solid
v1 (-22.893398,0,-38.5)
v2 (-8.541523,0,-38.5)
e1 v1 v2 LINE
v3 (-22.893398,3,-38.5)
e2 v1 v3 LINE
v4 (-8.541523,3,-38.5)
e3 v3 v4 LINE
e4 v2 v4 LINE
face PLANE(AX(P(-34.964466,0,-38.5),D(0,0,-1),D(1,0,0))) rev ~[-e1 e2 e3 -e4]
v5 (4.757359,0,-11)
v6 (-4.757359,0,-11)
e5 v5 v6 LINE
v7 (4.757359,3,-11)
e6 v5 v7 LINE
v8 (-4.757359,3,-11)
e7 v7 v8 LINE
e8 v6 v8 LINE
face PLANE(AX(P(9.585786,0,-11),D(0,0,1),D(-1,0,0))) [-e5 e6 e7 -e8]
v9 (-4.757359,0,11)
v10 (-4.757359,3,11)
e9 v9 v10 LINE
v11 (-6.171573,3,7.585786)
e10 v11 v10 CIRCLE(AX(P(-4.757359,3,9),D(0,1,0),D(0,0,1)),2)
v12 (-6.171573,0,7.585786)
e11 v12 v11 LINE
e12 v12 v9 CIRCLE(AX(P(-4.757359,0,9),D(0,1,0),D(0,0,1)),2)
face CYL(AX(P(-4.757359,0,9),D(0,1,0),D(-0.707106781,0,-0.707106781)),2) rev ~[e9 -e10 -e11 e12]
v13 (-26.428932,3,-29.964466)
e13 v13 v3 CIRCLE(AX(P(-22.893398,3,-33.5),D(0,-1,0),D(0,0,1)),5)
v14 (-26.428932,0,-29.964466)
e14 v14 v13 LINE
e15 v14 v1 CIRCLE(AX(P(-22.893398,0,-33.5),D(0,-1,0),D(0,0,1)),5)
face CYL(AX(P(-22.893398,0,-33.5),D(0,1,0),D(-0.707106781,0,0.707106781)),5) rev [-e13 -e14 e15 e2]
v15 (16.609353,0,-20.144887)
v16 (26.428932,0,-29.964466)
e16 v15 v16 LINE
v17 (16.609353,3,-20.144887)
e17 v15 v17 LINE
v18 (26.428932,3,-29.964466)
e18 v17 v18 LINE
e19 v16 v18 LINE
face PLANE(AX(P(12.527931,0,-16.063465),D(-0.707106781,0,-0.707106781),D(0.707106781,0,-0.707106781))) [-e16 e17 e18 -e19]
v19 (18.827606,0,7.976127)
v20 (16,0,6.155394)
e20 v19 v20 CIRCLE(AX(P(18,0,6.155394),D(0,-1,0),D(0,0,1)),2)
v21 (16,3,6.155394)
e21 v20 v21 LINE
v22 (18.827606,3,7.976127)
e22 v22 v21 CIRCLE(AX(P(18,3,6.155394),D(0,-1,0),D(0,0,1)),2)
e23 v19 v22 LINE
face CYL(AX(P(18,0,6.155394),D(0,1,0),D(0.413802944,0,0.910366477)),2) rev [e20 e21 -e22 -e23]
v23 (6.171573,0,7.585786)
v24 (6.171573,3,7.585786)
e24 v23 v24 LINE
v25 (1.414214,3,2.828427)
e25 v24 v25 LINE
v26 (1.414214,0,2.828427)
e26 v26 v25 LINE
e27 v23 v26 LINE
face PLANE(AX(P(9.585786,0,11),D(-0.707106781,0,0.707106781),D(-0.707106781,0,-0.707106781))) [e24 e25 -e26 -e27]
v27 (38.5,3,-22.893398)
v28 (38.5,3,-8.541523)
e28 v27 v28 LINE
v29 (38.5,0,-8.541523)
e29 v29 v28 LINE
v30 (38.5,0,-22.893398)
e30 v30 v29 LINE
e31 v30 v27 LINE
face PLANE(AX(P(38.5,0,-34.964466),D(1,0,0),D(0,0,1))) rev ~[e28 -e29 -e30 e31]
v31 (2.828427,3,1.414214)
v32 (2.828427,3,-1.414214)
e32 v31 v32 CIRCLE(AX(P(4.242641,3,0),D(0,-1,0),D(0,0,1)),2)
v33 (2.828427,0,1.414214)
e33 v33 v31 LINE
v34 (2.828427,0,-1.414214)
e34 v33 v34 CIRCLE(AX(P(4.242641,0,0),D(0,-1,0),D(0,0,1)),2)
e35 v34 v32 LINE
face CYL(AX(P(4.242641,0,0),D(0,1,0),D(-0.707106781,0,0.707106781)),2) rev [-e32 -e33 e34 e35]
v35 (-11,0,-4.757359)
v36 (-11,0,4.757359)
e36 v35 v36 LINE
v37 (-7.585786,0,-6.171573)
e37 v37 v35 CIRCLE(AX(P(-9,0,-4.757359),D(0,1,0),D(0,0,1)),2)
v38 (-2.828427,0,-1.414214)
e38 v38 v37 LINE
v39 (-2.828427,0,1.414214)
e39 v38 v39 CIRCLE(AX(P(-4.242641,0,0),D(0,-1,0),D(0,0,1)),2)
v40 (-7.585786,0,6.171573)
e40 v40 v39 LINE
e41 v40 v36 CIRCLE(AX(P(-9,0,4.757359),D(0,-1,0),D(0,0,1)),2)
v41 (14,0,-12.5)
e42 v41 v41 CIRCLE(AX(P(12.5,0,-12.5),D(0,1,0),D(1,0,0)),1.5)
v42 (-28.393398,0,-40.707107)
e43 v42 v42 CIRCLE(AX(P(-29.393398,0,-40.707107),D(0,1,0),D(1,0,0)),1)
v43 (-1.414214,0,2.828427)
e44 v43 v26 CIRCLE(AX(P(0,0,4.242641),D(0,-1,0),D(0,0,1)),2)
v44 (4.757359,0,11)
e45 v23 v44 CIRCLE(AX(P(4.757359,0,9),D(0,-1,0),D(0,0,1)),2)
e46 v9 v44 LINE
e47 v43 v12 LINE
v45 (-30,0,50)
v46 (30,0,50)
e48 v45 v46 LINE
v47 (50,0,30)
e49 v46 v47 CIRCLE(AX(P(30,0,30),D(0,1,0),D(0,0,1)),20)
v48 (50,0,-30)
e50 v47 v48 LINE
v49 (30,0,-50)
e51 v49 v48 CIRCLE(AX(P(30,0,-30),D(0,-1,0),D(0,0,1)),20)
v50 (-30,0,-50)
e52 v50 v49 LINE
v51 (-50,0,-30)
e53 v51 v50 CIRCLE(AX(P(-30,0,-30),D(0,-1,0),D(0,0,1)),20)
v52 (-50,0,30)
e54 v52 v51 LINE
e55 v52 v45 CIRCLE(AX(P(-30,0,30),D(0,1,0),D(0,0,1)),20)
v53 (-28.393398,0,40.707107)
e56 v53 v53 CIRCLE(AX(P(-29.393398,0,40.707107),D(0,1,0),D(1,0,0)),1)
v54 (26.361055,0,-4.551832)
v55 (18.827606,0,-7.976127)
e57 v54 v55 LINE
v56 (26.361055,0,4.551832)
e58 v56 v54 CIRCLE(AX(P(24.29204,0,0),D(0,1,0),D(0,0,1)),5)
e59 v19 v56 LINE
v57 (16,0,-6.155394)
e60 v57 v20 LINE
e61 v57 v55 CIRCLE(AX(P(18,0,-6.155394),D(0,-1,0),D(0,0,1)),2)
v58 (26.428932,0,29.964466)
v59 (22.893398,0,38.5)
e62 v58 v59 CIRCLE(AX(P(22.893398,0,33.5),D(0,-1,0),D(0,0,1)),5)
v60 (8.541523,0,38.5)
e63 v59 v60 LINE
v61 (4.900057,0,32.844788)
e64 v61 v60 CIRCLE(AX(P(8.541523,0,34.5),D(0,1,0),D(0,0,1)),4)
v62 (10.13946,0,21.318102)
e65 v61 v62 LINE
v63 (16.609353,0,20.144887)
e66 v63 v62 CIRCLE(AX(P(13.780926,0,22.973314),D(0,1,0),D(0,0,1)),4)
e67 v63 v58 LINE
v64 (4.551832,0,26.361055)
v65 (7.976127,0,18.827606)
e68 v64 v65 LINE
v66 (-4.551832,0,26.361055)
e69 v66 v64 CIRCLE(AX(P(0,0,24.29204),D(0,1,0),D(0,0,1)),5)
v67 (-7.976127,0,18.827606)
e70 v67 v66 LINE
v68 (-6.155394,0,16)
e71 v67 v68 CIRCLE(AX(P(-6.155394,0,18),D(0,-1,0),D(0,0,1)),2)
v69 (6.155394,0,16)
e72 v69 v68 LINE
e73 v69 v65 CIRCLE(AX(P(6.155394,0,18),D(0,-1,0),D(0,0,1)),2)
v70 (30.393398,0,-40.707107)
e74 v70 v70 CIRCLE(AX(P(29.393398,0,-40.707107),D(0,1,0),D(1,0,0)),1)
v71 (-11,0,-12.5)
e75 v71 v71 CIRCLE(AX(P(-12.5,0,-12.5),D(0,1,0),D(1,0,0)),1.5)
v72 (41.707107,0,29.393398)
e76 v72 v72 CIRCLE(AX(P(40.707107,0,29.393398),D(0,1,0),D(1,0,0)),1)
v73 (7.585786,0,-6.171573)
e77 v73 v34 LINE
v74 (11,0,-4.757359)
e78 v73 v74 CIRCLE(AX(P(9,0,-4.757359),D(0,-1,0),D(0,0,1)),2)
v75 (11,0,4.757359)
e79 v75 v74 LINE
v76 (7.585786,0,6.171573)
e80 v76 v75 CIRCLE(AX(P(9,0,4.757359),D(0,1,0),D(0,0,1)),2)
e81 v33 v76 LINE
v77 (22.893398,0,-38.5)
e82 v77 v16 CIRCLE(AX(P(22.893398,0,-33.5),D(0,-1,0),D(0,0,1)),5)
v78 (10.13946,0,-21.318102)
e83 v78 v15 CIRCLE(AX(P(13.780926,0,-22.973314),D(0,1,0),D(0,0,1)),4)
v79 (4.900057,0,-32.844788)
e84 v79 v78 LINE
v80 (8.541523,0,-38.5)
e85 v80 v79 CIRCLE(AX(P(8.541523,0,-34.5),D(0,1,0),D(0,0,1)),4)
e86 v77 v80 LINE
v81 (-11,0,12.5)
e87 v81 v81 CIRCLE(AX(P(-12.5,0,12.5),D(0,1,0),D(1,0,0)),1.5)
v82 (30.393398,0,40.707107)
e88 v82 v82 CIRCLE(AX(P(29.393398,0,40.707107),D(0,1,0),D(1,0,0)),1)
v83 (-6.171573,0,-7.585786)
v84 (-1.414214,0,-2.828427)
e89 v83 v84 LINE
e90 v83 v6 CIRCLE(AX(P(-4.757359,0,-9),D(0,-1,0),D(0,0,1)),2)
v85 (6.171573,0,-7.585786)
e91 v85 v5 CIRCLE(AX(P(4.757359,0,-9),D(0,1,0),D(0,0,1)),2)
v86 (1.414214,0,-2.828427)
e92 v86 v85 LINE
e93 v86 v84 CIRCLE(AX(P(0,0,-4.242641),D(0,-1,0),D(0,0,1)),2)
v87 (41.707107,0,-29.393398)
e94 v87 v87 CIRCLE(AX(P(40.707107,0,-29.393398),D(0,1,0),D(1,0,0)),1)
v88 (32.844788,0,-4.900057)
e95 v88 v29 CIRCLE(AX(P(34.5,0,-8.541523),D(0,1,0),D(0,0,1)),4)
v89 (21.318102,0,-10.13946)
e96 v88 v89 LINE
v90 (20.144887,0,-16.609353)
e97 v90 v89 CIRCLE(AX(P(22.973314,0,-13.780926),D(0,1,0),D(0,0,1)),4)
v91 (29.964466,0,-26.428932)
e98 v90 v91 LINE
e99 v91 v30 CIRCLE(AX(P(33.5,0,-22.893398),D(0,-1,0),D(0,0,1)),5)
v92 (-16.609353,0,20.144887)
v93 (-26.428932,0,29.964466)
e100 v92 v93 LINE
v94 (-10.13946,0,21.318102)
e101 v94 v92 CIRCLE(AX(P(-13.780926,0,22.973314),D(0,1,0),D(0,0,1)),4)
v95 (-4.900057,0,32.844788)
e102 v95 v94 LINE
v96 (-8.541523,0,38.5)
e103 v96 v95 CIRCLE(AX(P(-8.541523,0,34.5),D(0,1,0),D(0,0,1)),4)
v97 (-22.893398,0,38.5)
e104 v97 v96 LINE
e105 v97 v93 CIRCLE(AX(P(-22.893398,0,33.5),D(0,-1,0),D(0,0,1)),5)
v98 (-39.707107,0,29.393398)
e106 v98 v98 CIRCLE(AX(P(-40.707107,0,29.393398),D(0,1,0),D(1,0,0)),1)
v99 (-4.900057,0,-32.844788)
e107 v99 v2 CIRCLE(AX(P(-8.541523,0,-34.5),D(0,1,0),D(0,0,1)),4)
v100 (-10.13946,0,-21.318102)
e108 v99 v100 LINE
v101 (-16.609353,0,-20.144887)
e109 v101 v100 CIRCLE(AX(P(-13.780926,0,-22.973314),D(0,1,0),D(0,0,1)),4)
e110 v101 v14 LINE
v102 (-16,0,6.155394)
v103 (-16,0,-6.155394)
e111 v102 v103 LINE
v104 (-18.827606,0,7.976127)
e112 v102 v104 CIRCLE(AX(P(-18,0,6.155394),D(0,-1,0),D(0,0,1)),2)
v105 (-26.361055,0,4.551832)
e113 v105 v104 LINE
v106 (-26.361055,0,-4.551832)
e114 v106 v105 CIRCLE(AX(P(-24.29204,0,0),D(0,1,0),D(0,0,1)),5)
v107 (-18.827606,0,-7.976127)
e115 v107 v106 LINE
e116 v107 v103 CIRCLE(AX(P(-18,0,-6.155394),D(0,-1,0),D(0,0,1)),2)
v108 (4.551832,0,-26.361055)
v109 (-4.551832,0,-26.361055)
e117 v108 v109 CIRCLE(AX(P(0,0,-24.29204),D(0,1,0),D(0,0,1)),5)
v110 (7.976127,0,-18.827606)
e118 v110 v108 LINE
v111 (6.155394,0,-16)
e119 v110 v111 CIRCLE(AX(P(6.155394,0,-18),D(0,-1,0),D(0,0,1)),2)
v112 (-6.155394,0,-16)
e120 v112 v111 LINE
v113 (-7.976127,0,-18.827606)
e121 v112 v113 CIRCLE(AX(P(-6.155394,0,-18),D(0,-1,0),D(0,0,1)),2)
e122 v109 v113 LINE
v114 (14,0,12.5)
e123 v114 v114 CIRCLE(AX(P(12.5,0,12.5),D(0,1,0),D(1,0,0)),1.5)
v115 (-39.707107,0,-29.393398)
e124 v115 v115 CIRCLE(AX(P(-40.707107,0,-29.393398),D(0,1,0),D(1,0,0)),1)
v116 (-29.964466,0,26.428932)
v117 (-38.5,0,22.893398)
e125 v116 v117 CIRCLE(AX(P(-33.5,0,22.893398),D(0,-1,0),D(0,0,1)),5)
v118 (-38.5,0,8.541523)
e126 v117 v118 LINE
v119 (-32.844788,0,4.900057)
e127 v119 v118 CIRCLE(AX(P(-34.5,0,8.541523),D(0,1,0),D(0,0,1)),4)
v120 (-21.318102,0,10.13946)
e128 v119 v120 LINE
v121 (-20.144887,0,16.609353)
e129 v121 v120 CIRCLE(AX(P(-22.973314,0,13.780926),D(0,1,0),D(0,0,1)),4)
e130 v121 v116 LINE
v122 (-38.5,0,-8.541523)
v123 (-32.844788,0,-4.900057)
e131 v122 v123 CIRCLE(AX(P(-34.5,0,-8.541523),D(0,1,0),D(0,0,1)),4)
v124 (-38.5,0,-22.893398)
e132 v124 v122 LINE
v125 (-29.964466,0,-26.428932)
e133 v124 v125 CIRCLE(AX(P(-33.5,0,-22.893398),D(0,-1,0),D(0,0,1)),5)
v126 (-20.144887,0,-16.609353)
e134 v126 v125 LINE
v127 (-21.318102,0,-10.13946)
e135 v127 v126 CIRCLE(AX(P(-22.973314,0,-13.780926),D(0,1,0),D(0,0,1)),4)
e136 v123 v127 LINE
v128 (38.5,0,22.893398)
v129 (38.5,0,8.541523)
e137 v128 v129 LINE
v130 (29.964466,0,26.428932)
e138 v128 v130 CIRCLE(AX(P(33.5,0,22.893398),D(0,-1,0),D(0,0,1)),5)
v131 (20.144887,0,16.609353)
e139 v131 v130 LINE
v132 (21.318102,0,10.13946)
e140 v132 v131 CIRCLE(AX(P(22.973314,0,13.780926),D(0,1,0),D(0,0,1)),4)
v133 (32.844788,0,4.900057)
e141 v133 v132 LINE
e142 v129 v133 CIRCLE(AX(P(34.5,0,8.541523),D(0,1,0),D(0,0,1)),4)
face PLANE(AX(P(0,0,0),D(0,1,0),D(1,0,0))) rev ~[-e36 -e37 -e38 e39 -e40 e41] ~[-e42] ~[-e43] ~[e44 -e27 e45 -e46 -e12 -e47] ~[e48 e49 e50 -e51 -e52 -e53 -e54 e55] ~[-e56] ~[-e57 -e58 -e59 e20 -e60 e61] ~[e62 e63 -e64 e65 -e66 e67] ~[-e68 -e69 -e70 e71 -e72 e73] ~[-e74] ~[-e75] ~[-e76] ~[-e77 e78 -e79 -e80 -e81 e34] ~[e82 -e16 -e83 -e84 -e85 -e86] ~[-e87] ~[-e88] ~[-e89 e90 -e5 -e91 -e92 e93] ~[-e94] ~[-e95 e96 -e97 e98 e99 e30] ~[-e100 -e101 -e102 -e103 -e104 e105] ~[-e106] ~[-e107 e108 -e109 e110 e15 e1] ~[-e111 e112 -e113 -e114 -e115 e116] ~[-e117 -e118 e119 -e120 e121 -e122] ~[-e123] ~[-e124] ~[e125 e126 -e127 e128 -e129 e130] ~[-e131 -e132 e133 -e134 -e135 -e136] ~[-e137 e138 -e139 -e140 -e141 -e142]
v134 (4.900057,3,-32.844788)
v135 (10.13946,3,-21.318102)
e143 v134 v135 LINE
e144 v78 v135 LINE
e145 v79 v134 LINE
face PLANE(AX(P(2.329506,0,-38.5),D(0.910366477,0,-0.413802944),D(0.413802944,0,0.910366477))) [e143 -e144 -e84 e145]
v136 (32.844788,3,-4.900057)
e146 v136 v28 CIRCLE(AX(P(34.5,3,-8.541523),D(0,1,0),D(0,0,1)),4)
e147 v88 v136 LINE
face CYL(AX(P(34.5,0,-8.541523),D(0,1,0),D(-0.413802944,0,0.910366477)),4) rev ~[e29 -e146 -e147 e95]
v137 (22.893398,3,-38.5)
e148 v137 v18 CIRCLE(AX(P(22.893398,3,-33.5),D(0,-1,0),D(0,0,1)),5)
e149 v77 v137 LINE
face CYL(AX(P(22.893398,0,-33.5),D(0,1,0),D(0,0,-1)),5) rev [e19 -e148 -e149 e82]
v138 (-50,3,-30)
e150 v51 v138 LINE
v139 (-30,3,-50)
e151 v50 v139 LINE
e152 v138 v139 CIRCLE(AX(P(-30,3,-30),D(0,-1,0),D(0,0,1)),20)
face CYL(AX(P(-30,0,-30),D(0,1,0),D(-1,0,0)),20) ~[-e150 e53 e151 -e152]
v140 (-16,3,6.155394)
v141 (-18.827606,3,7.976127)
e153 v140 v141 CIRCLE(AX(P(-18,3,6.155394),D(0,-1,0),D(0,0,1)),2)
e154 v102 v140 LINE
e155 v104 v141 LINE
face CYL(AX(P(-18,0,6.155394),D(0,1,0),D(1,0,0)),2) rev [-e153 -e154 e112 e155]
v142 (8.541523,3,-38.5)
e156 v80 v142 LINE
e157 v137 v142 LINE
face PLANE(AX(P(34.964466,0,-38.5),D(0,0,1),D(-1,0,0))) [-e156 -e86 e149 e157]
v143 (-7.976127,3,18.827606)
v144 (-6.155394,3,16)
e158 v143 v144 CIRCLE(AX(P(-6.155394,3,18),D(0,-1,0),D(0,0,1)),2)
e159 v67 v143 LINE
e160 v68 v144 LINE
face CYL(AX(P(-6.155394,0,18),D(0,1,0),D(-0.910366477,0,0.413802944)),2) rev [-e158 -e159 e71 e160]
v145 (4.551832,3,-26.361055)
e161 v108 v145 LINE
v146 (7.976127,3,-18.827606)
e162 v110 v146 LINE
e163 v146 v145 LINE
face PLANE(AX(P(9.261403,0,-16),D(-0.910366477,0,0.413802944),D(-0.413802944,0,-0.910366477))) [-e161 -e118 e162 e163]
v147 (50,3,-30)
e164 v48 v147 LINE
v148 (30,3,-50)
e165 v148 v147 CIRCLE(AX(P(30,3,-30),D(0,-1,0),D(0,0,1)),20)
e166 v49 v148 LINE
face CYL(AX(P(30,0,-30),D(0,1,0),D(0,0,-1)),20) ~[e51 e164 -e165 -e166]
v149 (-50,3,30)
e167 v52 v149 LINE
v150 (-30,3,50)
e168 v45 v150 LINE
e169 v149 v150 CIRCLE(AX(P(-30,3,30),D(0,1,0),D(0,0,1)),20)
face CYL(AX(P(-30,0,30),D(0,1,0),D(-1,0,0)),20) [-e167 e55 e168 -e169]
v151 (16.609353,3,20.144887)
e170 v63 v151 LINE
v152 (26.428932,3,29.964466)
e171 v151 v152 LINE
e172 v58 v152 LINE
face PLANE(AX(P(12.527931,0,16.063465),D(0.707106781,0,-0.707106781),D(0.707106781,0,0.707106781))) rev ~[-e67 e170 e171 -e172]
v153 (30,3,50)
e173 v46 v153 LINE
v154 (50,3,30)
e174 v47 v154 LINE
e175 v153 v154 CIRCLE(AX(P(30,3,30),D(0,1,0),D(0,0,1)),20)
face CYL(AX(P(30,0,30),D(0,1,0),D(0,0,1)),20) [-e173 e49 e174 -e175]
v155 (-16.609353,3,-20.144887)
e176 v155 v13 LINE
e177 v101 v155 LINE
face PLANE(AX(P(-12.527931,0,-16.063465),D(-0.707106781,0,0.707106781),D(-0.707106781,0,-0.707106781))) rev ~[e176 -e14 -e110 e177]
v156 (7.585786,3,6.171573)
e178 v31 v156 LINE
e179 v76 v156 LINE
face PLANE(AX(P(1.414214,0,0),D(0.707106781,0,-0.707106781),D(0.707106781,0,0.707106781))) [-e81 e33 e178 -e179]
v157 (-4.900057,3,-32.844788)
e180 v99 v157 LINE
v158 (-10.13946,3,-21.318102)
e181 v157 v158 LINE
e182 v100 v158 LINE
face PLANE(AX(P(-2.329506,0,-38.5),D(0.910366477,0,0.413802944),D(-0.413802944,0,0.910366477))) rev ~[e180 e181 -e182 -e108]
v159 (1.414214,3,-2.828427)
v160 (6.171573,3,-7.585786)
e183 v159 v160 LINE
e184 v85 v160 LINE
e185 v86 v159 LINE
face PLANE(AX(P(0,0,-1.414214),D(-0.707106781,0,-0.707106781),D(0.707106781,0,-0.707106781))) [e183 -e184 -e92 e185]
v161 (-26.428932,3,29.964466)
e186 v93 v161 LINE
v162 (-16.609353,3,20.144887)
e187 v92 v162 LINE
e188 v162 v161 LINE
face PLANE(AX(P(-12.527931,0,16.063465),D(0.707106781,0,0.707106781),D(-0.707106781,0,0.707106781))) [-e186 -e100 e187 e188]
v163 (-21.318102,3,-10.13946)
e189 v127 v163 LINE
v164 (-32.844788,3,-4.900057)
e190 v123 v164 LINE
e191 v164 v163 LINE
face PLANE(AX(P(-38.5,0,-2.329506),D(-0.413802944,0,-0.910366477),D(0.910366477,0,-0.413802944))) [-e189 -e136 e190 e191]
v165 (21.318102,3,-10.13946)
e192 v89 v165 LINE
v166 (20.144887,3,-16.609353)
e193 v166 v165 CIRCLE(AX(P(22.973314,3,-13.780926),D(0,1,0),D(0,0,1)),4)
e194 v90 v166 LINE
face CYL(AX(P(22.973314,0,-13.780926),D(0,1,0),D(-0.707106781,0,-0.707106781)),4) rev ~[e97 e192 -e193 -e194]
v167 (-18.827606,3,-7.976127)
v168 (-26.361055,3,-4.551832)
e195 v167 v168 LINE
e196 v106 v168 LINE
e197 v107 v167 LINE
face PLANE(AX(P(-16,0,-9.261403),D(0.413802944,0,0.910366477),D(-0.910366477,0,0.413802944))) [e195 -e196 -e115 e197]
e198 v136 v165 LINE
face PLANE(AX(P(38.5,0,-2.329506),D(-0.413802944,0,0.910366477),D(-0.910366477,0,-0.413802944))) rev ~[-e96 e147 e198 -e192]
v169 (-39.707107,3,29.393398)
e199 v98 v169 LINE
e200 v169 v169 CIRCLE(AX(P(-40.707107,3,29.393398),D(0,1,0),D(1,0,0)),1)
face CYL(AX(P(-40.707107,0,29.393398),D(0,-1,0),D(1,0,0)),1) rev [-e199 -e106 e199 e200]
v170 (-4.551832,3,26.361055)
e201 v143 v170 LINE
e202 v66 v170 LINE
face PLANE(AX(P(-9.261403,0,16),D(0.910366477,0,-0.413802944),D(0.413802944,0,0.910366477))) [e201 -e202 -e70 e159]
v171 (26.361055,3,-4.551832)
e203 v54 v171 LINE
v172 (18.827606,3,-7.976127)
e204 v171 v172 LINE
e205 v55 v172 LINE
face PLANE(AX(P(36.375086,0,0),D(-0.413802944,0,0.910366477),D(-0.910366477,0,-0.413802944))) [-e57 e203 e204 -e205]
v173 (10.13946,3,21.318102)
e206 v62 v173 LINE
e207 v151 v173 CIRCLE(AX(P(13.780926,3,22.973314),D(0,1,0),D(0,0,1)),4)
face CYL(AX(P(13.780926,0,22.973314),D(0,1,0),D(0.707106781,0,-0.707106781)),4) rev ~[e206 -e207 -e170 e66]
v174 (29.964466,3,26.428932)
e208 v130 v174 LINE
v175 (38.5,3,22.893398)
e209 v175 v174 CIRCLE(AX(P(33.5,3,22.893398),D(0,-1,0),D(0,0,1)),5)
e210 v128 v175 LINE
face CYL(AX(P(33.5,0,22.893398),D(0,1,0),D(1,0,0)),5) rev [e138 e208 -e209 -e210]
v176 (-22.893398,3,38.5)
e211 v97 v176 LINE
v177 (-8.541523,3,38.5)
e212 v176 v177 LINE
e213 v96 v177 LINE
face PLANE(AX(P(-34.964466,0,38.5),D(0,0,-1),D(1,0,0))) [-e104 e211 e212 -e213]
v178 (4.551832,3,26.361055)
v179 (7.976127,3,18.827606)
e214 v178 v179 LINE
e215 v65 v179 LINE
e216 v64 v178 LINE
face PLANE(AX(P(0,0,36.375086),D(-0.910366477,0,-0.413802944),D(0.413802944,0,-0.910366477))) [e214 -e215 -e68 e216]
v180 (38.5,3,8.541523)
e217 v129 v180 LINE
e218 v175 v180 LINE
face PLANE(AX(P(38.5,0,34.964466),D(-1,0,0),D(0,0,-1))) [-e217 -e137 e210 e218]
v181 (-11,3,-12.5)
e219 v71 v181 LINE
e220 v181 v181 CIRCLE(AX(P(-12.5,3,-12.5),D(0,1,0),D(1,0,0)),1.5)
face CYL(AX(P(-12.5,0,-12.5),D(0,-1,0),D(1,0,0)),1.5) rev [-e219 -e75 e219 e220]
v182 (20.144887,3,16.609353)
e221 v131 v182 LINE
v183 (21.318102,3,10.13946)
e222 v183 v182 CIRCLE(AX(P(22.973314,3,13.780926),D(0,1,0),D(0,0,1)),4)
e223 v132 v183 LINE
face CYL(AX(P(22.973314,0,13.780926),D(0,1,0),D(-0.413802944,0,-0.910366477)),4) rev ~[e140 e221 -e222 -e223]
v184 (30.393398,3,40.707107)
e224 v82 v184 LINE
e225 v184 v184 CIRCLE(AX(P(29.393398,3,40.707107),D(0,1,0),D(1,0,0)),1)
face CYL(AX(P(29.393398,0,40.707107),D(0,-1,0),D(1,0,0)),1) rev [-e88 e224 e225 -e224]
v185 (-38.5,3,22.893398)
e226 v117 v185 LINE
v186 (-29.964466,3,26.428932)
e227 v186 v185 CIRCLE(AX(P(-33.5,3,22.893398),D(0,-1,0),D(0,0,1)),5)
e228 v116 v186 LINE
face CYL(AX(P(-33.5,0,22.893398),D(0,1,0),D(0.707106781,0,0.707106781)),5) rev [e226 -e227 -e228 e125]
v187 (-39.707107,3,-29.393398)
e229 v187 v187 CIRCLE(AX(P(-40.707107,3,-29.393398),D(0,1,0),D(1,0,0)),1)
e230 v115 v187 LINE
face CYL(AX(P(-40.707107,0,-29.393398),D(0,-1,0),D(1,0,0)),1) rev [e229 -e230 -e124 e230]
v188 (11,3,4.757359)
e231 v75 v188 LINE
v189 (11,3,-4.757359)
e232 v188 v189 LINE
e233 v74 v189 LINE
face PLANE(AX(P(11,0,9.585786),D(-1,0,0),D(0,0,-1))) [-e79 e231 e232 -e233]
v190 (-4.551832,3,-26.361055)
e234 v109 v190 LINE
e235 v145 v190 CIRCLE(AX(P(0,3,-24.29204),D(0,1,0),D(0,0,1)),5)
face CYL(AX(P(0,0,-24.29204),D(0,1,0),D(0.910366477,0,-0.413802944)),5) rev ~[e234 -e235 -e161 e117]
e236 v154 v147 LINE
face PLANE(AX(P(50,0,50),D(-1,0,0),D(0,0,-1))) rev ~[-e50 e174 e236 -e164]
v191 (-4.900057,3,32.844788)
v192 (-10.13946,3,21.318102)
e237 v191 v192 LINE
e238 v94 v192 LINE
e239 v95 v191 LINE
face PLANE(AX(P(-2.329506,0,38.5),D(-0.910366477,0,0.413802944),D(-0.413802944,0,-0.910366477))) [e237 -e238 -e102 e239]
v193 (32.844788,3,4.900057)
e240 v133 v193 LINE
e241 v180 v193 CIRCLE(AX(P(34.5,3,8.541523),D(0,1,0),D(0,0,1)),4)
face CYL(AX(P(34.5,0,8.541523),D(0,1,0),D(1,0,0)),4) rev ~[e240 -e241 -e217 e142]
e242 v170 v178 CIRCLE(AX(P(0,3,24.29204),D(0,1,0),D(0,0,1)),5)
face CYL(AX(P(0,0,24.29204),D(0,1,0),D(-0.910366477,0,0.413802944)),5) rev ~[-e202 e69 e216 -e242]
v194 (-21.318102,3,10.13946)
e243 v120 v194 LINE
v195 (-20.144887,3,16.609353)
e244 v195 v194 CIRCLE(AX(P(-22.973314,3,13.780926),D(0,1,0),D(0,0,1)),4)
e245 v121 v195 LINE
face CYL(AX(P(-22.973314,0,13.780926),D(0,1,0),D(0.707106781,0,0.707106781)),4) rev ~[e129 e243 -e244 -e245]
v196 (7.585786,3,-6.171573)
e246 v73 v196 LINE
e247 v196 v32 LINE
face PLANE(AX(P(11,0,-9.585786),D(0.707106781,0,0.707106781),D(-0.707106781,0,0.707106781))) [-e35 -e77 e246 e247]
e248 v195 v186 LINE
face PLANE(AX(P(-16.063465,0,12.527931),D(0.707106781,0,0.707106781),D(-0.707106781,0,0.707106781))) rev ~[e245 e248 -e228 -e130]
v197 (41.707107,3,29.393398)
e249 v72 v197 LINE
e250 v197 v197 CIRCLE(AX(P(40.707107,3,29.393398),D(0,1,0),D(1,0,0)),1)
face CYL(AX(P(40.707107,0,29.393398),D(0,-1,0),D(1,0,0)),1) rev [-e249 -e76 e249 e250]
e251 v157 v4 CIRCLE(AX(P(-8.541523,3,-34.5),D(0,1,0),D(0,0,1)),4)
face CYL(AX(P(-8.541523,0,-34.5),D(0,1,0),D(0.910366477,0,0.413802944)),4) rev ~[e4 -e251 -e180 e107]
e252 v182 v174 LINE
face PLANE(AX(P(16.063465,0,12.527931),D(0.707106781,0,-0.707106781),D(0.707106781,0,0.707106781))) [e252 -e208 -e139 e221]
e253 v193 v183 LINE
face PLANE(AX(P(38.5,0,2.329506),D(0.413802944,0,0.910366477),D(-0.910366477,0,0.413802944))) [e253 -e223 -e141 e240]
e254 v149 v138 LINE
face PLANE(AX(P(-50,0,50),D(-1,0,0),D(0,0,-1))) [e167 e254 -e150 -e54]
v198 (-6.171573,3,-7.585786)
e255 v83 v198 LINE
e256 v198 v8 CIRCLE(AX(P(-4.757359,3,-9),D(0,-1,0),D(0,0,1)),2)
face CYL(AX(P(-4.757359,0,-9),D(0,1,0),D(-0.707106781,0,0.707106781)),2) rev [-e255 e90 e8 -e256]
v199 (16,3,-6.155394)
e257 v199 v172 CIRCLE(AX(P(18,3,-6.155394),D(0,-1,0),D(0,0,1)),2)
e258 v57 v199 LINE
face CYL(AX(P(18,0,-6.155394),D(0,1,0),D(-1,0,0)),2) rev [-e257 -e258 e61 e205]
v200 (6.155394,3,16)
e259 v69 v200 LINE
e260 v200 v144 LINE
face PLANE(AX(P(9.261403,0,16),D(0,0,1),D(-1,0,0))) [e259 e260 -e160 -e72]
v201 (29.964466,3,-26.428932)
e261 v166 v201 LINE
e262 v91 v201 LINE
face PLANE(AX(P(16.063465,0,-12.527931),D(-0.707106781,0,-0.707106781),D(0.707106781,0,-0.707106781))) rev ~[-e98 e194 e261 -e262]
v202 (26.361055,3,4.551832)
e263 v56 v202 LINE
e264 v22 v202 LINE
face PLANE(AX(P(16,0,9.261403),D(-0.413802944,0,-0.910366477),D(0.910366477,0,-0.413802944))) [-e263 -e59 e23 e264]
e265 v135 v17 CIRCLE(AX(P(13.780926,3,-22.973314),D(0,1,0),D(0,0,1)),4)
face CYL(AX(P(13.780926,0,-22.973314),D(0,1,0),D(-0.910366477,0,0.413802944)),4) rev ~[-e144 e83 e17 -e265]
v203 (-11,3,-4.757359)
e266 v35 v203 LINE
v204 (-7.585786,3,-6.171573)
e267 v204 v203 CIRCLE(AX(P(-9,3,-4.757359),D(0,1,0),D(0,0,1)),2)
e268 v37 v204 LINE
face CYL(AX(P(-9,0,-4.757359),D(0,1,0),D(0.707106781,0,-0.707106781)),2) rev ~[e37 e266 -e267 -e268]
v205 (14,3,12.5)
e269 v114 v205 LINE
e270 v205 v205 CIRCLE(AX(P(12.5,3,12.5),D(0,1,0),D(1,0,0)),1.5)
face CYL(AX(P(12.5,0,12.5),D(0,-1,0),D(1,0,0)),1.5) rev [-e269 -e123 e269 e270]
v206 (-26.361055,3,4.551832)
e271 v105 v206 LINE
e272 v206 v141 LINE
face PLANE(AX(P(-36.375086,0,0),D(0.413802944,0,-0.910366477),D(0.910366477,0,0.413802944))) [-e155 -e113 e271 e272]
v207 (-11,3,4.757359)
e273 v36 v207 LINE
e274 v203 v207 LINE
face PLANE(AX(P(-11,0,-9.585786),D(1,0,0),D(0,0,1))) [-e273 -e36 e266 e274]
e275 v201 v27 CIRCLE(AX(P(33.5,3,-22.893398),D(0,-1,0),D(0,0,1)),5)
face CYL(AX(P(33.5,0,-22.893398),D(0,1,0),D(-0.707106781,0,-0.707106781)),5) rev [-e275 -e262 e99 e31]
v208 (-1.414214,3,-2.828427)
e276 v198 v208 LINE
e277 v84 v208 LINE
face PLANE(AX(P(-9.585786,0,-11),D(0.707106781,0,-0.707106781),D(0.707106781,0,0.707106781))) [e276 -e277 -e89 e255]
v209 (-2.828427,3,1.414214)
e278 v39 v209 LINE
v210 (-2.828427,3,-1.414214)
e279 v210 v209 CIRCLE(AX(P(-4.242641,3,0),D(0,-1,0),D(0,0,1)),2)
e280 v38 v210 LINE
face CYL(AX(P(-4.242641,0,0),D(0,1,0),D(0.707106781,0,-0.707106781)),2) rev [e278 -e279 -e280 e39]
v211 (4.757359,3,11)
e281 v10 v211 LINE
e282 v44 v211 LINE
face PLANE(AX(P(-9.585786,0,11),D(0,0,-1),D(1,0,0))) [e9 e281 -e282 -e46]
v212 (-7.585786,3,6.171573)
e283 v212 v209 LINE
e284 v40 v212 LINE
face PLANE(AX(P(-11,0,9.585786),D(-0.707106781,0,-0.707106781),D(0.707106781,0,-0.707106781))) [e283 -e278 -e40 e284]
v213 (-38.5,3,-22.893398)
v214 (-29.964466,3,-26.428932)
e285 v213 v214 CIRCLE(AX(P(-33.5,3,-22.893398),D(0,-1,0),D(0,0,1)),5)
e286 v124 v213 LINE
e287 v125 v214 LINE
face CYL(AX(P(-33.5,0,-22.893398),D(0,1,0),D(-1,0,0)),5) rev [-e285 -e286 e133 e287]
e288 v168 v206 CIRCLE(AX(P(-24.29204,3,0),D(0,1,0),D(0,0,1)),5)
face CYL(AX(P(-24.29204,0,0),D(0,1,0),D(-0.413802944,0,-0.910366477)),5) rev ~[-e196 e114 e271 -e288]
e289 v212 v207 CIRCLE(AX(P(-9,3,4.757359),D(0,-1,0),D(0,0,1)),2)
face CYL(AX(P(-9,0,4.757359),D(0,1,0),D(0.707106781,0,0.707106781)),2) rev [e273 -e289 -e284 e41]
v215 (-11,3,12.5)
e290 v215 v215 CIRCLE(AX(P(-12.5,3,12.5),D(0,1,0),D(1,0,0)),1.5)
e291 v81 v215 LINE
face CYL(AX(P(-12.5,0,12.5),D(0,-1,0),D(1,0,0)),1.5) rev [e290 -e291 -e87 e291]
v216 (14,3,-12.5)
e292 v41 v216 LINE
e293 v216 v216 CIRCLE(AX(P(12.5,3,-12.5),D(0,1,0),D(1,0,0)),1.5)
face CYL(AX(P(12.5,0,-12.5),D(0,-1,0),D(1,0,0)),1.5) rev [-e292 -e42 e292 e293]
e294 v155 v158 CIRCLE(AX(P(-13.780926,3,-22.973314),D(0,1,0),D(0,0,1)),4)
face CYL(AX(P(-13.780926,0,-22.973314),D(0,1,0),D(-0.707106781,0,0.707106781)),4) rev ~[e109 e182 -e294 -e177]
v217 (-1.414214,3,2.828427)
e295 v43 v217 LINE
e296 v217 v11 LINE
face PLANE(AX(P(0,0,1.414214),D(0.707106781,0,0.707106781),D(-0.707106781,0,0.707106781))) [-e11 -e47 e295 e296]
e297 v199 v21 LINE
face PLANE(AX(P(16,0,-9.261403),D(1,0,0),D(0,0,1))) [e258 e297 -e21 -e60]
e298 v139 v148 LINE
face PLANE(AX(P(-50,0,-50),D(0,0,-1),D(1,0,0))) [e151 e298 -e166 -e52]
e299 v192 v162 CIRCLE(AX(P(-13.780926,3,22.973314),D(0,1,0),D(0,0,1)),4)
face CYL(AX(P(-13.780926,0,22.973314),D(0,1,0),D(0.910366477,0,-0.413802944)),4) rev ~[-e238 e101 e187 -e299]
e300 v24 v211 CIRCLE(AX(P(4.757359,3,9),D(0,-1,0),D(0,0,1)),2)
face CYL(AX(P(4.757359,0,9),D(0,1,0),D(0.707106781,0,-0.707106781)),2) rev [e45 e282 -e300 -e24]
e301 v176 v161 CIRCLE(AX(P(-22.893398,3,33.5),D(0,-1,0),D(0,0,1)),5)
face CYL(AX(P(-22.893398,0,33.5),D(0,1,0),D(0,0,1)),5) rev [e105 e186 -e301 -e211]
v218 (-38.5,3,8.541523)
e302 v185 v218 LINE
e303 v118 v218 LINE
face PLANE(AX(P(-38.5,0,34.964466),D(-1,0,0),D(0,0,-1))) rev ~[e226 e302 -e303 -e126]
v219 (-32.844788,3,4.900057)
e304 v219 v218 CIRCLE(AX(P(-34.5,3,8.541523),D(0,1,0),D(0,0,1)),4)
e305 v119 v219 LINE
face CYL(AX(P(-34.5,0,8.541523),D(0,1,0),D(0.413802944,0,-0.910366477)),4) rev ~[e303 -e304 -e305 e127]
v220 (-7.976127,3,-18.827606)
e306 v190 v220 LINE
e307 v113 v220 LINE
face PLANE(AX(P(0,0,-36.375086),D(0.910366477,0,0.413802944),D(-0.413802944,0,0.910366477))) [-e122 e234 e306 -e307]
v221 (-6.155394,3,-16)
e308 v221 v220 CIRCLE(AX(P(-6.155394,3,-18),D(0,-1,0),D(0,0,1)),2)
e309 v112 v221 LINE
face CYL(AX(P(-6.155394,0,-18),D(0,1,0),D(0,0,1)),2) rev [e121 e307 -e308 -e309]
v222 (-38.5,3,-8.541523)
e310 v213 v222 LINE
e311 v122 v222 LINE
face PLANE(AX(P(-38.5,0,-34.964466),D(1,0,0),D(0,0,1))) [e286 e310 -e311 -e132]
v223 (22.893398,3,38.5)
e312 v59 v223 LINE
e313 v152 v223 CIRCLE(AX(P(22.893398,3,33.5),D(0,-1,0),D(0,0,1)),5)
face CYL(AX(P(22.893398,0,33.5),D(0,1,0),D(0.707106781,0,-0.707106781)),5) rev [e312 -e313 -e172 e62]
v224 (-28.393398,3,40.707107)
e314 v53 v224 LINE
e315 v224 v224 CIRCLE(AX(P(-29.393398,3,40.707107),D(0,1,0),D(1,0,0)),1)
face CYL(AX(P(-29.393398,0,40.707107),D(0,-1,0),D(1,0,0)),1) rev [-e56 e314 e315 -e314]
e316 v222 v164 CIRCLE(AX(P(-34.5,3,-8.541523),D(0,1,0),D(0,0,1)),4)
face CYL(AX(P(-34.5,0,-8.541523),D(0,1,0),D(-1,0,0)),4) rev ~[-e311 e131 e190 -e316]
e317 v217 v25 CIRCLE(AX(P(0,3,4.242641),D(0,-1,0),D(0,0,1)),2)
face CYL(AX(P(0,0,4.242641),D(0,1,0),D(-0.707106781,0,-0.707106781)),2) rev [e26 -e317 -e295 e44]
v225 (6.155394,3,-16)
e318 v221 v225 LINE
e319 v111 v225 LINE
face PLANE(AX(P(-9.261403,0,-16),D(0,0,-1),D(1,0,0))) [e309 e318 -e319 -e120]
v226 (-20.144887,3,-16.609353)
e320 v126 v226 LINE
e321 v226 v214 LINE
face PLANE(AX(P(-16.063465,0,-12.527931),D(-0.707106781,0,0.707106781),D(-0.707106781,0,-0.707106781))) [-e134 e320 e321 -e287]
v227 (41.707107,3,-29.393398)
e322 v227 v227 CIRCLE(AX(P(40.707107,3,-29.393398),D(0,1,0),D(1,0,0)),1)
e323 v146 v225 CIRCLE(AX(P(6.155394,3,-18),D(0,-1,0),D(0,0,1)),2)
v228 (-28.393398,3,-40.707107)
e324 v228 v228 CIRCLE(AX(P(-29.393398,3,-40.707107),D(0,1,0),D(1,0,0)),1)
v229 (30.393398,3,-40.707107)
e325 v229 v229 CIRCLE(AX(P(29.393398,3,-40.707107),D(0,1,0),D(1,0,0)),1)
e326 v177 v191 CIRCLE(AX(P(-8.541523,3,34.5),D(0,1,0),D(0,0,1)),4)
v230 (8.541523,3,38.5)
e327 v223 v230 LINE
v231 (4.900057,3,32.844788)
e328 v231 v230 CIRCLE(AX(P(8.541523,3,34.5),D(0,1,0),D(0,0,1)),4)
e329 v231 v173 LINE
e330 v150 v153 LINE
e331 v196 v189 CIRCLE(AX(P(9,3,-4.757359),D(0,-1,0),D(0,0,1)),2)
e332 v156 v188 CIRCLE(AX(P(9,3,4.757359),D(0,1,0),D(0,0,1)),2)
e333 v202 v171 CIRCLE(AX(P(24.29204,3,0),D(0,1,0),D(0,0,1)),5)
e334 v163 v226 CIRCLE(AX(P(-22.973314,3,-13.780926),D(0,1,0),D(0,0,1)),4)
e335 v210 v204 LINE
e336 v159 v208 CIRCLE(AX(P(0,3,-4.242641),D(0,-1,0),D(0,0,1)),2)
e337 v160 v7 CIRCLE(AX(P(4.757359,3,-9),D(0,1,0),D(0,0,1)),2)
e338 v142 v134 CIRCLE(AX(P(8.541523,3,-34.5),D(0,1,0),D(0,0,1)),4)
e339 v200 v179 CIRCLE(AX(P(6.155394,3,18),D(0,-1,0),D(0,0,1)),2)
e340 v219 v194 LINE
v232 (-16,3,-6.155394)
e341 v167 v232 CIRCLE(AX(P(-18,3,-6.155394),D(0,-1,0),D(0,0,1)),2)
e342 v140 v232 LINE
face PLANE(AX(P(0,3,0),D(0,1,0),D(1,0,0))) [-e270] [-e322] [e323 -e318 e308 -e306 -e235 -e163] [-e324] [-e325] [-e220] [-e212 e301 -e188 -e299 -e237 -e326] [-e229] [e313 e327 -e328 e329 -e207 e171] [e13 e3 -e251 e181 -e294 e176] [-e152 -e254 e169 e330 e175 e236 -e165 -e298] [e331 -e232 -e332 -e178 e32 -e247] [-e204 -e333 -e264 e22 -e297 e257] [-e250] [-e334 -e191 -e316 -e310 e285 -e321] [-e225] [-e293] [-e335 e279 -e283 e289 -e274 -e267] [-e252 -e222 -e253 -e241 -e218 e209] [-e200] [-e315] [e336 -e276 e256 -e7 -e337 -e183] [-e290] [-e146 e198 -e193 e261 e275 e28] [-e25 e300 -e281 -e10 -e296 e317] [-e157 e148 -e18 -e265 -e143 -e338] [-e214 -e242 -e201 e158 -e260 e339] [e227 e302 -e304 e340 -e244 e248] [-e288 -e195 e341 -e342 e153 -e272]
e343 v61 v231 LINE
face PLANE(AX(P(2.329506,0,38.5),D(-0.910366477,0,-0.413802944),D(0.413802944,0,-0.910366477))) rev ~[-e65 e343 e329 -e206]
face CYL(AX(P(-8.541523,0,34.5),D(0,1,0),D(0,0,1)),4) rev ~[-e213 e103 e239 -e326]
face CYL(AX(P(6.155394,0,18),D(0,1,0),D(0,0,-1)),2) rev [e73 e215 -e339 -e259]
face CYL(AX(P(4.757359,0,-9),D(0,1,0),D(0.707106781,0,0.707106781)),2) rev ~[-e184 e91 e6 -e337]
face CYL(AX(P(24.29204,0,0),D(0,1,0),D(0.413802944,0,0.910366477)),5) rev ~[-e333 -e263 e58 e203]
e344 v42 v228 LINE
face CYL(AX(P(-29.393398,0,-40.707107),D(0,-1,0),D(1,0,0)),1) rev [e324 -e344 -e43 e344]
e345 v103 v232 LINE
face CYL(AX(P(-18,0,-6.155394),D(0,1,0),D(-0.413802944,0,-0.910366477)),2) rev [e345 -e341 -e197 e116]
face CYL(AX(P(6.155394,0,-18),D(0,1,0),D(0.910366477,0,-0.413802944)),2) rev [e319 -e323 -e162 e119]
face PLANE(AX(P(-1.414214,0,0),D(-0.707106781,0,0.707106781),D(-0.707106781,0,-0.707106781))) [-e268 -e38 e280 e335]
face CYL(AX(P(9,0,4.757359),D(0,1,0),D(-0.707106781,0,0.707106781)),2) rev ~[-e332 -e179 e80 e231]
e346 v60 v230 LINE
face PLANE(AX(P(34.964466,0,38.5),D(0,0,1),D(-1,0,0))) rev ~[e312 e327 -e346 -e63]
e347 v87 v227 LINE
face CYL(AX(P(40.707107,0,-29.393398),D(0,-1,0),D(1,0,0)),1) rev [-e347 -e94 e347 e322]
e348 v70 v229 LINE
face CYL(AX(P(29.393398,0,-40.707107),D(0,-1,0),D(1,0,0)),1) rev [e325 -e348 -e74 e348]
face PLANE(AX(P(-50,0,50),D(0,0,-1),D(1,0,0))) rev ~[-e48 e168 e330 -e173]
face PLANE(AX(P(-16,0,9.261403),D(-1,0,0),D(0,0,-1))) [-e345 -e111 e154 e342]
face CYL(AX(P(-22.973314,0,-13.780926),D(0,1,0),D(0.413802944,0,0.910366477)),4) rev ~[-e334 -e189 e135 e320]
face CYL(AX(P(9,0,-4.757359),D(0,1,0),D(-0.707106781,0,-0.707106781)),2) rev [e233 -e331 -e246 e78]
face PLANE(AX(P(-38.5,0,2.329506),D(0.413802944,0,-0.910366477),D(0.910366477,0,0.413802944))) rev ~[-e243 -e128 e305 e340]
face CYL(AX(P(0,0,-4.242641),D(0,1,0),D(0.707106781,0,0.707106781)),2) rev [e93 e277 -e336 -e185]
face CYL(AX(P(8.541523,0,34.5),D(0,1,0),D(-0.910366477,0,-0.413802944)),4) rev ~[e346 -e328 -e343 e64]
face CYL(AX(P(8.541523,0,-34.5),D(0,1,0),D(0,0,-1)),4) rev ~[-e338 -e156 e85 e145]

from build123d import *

# Parameters (mm, degrees)
ESQUISSE1_W        = 100
ESQUISSE1_H        = 100
ESQUISSE1_R        = 1.5
ESQUISSE1_R_2      = 1
BOSS_EXTRU_1_DEPTH = 3
CONG_1_R           = 20
CONG_2_R           = 5
CONG_3_R           = 4
CONG_4_R           = 2


with BuildPart() as part:
    # Esquisse1 → Boss.-Extru.1 (new body)
    with BuildSketch(Plane(origin=(0, 0, 0), x_dir=(1, 0, 0), z_dir=(0, 1, 0))):
        Rectangle(ESQUISSE1_W, ESQUISSE1_H)
        with Locations((-12.5, -12.5)):
            Circle(ESQUISSE1_R, mode=Mode.SUBTRACT)
        with Locations((12.5, -12.5)):
            Circle(ESQUISSE1_R, mode=Mode.SUBTRACT)
        with Locations((-12.5, 12.5)):
            Circle(ESQUISSE1_R, mode=Mode.SUBTRACT)
        with Locations((12.5, 12.5)):
            Circle(ESQUISSE1_R, mode=Mode.SUBTRACT)
        with Locations((40.707106781, -29.393398282)):
            Circle(ESQUISSE1_R_2, mode=Mode.SUBTRACT)
        with Locations((29.393398282, -40.707106781)):
            Circle(ESQUISSE1_R_2, mode=Mode.SUBTRACT)
        with Locations((-29.393398282, -40.707106781)):
            Circle(ESQUISSE1_R_2, mode=Mode.SUBTRACT)
        with Locations((-40.707106781, -29.393398282)):
            Circle(ESQUISSE1_R_2, mode=Mode.SUBTRACT)
        with Locations((-40.707106781, 29.393398282)):
            Circle(ESQUISSE1_R_2, mode=Mode.SUBTRACT)
        with Locations((-29.393398282, 40.707106781)):
            Circle(ESQUISSE1_R_2, mode=Mode.SUBTRACT)
        with Locations((29.393398282, 40.707106781)):
            Circle(ESQUISSE1_R_2, mode=Mode.SUBTRACT)
        with Locations((40.707106781, 29.393398282)):
            Circle(ESQUISSE1_R_2, mode=Mode.SUBTRACT)
        Polygon((-9.261402822, -16), (0, -36.375086208), (9.261402822, -16), align=None, mode=Mode.SUBTRACT)
        Polygon((0, -1.414213562), (-9.585786438, -11), (9.585786438, -11), align=None, mode=Mode.SUBTRACT)
        Polygon((-34.964466094, -38.5), (-2.329506269, -38.5), (-12.527931214, -16.06346512), align=None, mode=Mode.SUBTRACT)
        Polygon((34.964466094, -38.5), (2.329506269, -38.5), (12.527931214, -16.06346512), align=None, mode=Mode.SUBTRACT)
        Polygon((-16, 9.261402822), (-36.375086208, 0), (-16, -9.261402822), align=None, mode=Mode.SUBTRACT)
        Polygon((-1.414213562, 0), (-11, 9.585786438), (-11, -9.585786438), align=None, mode=Mode.SUBTRACT)
        Polygon((-38.5, 34.964466094), (-38.5, 2.329506269), (-16.06346512, 12.527931214), align=None, mode=Mode.SUBTRACT)
        Polygon((-38.5, -34.964466094), (-38.5, -2.329506269), (-16.06346512, -12.527931214), align=None, mode=Mode.SUBTRACT)
        Polygon((9.261402822, 16), (0, 36.375086208), (-9.261402822, 16), align=None, mode=Mode.SUBTRACT)
        Polygon((0, 1.414213562), (9.585786438, 11), (-9.585786438, 11), align=None, mode=Mode.SUBTRACT)
        Polygon((34.964466094, 38.5), (2.329506269, 38.5), (12.527931214, 16.06346512), align=None, mode=Mode.SUBTRACT)
        Polygon((-34.964466094, 38.5), (-2.329506269, 38.5), (-12.527931214, 16.06346512), align=None, mode=Mode.SUBTRACT)
        Polygon((16, -9.261402822), (36.375086208, 0), (16, 9.261402822), align=None, mode=Mode.SUBTRACT)
        Polygon((1.414213562, 0), (11, -9.585786438), (11, 9.585786438), align=None, mode=Mode.SUBTRACT)
        Polygon((38.5, -34.964466094), (38.5, -2.329506269), (16.06346512, -12.527931214), align=None, mode=Mode.SUBTRACT)
        Polygon((38.5, 34.964466094), (38.5, 2.329506269), (16.06346512, 12.527931214), align=None, mode=Mode.SUBTRACT)
    extrude(amount=BOSS_EXTRU_1_DEPTH)

    # Congé1
    cong_1_edges = [part.edges().sort_by_distance(p)[0] for p in [
        (-50, 1.5, -50),
        (50, 1.5, -50),
        (50, 1.5, 50),
        (-50, 1.5, 50),
    ]]
    fillet(cong_1_edges, radius=CONG_1_R)

    # Congé2
    cong_2_edges = [part.edges().sort_by_distance(p)[0] for p in [
        (0, 1.5, -36.375086208),
        (34.964466094, 1.5, -38.5),
        (-34.964466094, 1.5, -38.5),
        (36.375086208, 1.5, 0),
        (38.5, 1.5, 34.964466094),
        (38.5, 1.5, -34.964466094),
        (0, 1.5, 36.375086208),
        (-34.964466094, 1.5, 38.5),
        (34.964466094, 1.5, 38.5),
        (-36.375086208, 1.5, 0),
        (-38.5, 1.5, -34.964466094),
        (-38.5, 1.5, 34.964466094),
    ]]
    fillet(cong_2_edges, radius=CONG_2_R)

    # Congé3
    cong_3_edges = [part.edges().sort_by_distance(p)[0] for p in [
        (12.527931214, 1.5, -16.06346512),
        (2.329506269, 1.5, -38.5),
        (-12.527931214, 1.5, -16.06346512),
        (-2.329506269, 1.5, -38.5),
        (16.06346512, 1.5, 12.527931214),
        (38.5, 1.5, 2.329506269),
        (16.06346512, 1.5, -12.527931214),
        (38.5, 1.5, -2.329506269),
        (-12.527931214, 1.5, 16.06346512),
        (-2.329506269, 1.5, 38.5),
        (12.527931214, 1.5, 16.06346512),
        (2.329506269, 1.5, 38.5),
        (-16.06346512, 1.5, -12.527931214),
        (-38.5, 1.5, -2.329506269),
        (-16.06346512, 1.5, 12.527931214),
        (-38.5, 1.5, 2.329506269),
    ]]
    fillet(cong_3_edges, radius=CONG_3_R)

    # Congé4
    cong_4_edges = [part.edges().sort_by_distance(p)[0] for p in [
        (-9.585786438, 1.5, -11),
        (0, 1.5, -1.414213562),
        (9.585786438, 1.5, -11),
        (-9.261402822, 1.5, -16),
        (9.261402822, 1.5, -16),
        (9.585786438, 1.5, 11),
        (0, 1.5, 1.414213562),
        (11, 1.5, -9.585786438),
        (1.414213562, 1.5, 0),
        (11, 1.5, 9.585786438),
        (-9.585786438, 1.5, 11),
        (16, 1.5, -9.261402822),
        (16, 1.5, 9.261402822),
        (9.261402822, 1.5, 16),
        (-9.261402822, 1.5, 16),
        (-11, 1.5, 9.585786438),
        (-1.414213562, 1.5, 0),
        (-11, 1.5, -9.585786438),
        (-16, 1.5, 9.261402822),
        (-16, 1.5, -9.261402822),
    ]]
    fillet(cong_4_edges, radius=CONG_4_R)


solid = part.part
